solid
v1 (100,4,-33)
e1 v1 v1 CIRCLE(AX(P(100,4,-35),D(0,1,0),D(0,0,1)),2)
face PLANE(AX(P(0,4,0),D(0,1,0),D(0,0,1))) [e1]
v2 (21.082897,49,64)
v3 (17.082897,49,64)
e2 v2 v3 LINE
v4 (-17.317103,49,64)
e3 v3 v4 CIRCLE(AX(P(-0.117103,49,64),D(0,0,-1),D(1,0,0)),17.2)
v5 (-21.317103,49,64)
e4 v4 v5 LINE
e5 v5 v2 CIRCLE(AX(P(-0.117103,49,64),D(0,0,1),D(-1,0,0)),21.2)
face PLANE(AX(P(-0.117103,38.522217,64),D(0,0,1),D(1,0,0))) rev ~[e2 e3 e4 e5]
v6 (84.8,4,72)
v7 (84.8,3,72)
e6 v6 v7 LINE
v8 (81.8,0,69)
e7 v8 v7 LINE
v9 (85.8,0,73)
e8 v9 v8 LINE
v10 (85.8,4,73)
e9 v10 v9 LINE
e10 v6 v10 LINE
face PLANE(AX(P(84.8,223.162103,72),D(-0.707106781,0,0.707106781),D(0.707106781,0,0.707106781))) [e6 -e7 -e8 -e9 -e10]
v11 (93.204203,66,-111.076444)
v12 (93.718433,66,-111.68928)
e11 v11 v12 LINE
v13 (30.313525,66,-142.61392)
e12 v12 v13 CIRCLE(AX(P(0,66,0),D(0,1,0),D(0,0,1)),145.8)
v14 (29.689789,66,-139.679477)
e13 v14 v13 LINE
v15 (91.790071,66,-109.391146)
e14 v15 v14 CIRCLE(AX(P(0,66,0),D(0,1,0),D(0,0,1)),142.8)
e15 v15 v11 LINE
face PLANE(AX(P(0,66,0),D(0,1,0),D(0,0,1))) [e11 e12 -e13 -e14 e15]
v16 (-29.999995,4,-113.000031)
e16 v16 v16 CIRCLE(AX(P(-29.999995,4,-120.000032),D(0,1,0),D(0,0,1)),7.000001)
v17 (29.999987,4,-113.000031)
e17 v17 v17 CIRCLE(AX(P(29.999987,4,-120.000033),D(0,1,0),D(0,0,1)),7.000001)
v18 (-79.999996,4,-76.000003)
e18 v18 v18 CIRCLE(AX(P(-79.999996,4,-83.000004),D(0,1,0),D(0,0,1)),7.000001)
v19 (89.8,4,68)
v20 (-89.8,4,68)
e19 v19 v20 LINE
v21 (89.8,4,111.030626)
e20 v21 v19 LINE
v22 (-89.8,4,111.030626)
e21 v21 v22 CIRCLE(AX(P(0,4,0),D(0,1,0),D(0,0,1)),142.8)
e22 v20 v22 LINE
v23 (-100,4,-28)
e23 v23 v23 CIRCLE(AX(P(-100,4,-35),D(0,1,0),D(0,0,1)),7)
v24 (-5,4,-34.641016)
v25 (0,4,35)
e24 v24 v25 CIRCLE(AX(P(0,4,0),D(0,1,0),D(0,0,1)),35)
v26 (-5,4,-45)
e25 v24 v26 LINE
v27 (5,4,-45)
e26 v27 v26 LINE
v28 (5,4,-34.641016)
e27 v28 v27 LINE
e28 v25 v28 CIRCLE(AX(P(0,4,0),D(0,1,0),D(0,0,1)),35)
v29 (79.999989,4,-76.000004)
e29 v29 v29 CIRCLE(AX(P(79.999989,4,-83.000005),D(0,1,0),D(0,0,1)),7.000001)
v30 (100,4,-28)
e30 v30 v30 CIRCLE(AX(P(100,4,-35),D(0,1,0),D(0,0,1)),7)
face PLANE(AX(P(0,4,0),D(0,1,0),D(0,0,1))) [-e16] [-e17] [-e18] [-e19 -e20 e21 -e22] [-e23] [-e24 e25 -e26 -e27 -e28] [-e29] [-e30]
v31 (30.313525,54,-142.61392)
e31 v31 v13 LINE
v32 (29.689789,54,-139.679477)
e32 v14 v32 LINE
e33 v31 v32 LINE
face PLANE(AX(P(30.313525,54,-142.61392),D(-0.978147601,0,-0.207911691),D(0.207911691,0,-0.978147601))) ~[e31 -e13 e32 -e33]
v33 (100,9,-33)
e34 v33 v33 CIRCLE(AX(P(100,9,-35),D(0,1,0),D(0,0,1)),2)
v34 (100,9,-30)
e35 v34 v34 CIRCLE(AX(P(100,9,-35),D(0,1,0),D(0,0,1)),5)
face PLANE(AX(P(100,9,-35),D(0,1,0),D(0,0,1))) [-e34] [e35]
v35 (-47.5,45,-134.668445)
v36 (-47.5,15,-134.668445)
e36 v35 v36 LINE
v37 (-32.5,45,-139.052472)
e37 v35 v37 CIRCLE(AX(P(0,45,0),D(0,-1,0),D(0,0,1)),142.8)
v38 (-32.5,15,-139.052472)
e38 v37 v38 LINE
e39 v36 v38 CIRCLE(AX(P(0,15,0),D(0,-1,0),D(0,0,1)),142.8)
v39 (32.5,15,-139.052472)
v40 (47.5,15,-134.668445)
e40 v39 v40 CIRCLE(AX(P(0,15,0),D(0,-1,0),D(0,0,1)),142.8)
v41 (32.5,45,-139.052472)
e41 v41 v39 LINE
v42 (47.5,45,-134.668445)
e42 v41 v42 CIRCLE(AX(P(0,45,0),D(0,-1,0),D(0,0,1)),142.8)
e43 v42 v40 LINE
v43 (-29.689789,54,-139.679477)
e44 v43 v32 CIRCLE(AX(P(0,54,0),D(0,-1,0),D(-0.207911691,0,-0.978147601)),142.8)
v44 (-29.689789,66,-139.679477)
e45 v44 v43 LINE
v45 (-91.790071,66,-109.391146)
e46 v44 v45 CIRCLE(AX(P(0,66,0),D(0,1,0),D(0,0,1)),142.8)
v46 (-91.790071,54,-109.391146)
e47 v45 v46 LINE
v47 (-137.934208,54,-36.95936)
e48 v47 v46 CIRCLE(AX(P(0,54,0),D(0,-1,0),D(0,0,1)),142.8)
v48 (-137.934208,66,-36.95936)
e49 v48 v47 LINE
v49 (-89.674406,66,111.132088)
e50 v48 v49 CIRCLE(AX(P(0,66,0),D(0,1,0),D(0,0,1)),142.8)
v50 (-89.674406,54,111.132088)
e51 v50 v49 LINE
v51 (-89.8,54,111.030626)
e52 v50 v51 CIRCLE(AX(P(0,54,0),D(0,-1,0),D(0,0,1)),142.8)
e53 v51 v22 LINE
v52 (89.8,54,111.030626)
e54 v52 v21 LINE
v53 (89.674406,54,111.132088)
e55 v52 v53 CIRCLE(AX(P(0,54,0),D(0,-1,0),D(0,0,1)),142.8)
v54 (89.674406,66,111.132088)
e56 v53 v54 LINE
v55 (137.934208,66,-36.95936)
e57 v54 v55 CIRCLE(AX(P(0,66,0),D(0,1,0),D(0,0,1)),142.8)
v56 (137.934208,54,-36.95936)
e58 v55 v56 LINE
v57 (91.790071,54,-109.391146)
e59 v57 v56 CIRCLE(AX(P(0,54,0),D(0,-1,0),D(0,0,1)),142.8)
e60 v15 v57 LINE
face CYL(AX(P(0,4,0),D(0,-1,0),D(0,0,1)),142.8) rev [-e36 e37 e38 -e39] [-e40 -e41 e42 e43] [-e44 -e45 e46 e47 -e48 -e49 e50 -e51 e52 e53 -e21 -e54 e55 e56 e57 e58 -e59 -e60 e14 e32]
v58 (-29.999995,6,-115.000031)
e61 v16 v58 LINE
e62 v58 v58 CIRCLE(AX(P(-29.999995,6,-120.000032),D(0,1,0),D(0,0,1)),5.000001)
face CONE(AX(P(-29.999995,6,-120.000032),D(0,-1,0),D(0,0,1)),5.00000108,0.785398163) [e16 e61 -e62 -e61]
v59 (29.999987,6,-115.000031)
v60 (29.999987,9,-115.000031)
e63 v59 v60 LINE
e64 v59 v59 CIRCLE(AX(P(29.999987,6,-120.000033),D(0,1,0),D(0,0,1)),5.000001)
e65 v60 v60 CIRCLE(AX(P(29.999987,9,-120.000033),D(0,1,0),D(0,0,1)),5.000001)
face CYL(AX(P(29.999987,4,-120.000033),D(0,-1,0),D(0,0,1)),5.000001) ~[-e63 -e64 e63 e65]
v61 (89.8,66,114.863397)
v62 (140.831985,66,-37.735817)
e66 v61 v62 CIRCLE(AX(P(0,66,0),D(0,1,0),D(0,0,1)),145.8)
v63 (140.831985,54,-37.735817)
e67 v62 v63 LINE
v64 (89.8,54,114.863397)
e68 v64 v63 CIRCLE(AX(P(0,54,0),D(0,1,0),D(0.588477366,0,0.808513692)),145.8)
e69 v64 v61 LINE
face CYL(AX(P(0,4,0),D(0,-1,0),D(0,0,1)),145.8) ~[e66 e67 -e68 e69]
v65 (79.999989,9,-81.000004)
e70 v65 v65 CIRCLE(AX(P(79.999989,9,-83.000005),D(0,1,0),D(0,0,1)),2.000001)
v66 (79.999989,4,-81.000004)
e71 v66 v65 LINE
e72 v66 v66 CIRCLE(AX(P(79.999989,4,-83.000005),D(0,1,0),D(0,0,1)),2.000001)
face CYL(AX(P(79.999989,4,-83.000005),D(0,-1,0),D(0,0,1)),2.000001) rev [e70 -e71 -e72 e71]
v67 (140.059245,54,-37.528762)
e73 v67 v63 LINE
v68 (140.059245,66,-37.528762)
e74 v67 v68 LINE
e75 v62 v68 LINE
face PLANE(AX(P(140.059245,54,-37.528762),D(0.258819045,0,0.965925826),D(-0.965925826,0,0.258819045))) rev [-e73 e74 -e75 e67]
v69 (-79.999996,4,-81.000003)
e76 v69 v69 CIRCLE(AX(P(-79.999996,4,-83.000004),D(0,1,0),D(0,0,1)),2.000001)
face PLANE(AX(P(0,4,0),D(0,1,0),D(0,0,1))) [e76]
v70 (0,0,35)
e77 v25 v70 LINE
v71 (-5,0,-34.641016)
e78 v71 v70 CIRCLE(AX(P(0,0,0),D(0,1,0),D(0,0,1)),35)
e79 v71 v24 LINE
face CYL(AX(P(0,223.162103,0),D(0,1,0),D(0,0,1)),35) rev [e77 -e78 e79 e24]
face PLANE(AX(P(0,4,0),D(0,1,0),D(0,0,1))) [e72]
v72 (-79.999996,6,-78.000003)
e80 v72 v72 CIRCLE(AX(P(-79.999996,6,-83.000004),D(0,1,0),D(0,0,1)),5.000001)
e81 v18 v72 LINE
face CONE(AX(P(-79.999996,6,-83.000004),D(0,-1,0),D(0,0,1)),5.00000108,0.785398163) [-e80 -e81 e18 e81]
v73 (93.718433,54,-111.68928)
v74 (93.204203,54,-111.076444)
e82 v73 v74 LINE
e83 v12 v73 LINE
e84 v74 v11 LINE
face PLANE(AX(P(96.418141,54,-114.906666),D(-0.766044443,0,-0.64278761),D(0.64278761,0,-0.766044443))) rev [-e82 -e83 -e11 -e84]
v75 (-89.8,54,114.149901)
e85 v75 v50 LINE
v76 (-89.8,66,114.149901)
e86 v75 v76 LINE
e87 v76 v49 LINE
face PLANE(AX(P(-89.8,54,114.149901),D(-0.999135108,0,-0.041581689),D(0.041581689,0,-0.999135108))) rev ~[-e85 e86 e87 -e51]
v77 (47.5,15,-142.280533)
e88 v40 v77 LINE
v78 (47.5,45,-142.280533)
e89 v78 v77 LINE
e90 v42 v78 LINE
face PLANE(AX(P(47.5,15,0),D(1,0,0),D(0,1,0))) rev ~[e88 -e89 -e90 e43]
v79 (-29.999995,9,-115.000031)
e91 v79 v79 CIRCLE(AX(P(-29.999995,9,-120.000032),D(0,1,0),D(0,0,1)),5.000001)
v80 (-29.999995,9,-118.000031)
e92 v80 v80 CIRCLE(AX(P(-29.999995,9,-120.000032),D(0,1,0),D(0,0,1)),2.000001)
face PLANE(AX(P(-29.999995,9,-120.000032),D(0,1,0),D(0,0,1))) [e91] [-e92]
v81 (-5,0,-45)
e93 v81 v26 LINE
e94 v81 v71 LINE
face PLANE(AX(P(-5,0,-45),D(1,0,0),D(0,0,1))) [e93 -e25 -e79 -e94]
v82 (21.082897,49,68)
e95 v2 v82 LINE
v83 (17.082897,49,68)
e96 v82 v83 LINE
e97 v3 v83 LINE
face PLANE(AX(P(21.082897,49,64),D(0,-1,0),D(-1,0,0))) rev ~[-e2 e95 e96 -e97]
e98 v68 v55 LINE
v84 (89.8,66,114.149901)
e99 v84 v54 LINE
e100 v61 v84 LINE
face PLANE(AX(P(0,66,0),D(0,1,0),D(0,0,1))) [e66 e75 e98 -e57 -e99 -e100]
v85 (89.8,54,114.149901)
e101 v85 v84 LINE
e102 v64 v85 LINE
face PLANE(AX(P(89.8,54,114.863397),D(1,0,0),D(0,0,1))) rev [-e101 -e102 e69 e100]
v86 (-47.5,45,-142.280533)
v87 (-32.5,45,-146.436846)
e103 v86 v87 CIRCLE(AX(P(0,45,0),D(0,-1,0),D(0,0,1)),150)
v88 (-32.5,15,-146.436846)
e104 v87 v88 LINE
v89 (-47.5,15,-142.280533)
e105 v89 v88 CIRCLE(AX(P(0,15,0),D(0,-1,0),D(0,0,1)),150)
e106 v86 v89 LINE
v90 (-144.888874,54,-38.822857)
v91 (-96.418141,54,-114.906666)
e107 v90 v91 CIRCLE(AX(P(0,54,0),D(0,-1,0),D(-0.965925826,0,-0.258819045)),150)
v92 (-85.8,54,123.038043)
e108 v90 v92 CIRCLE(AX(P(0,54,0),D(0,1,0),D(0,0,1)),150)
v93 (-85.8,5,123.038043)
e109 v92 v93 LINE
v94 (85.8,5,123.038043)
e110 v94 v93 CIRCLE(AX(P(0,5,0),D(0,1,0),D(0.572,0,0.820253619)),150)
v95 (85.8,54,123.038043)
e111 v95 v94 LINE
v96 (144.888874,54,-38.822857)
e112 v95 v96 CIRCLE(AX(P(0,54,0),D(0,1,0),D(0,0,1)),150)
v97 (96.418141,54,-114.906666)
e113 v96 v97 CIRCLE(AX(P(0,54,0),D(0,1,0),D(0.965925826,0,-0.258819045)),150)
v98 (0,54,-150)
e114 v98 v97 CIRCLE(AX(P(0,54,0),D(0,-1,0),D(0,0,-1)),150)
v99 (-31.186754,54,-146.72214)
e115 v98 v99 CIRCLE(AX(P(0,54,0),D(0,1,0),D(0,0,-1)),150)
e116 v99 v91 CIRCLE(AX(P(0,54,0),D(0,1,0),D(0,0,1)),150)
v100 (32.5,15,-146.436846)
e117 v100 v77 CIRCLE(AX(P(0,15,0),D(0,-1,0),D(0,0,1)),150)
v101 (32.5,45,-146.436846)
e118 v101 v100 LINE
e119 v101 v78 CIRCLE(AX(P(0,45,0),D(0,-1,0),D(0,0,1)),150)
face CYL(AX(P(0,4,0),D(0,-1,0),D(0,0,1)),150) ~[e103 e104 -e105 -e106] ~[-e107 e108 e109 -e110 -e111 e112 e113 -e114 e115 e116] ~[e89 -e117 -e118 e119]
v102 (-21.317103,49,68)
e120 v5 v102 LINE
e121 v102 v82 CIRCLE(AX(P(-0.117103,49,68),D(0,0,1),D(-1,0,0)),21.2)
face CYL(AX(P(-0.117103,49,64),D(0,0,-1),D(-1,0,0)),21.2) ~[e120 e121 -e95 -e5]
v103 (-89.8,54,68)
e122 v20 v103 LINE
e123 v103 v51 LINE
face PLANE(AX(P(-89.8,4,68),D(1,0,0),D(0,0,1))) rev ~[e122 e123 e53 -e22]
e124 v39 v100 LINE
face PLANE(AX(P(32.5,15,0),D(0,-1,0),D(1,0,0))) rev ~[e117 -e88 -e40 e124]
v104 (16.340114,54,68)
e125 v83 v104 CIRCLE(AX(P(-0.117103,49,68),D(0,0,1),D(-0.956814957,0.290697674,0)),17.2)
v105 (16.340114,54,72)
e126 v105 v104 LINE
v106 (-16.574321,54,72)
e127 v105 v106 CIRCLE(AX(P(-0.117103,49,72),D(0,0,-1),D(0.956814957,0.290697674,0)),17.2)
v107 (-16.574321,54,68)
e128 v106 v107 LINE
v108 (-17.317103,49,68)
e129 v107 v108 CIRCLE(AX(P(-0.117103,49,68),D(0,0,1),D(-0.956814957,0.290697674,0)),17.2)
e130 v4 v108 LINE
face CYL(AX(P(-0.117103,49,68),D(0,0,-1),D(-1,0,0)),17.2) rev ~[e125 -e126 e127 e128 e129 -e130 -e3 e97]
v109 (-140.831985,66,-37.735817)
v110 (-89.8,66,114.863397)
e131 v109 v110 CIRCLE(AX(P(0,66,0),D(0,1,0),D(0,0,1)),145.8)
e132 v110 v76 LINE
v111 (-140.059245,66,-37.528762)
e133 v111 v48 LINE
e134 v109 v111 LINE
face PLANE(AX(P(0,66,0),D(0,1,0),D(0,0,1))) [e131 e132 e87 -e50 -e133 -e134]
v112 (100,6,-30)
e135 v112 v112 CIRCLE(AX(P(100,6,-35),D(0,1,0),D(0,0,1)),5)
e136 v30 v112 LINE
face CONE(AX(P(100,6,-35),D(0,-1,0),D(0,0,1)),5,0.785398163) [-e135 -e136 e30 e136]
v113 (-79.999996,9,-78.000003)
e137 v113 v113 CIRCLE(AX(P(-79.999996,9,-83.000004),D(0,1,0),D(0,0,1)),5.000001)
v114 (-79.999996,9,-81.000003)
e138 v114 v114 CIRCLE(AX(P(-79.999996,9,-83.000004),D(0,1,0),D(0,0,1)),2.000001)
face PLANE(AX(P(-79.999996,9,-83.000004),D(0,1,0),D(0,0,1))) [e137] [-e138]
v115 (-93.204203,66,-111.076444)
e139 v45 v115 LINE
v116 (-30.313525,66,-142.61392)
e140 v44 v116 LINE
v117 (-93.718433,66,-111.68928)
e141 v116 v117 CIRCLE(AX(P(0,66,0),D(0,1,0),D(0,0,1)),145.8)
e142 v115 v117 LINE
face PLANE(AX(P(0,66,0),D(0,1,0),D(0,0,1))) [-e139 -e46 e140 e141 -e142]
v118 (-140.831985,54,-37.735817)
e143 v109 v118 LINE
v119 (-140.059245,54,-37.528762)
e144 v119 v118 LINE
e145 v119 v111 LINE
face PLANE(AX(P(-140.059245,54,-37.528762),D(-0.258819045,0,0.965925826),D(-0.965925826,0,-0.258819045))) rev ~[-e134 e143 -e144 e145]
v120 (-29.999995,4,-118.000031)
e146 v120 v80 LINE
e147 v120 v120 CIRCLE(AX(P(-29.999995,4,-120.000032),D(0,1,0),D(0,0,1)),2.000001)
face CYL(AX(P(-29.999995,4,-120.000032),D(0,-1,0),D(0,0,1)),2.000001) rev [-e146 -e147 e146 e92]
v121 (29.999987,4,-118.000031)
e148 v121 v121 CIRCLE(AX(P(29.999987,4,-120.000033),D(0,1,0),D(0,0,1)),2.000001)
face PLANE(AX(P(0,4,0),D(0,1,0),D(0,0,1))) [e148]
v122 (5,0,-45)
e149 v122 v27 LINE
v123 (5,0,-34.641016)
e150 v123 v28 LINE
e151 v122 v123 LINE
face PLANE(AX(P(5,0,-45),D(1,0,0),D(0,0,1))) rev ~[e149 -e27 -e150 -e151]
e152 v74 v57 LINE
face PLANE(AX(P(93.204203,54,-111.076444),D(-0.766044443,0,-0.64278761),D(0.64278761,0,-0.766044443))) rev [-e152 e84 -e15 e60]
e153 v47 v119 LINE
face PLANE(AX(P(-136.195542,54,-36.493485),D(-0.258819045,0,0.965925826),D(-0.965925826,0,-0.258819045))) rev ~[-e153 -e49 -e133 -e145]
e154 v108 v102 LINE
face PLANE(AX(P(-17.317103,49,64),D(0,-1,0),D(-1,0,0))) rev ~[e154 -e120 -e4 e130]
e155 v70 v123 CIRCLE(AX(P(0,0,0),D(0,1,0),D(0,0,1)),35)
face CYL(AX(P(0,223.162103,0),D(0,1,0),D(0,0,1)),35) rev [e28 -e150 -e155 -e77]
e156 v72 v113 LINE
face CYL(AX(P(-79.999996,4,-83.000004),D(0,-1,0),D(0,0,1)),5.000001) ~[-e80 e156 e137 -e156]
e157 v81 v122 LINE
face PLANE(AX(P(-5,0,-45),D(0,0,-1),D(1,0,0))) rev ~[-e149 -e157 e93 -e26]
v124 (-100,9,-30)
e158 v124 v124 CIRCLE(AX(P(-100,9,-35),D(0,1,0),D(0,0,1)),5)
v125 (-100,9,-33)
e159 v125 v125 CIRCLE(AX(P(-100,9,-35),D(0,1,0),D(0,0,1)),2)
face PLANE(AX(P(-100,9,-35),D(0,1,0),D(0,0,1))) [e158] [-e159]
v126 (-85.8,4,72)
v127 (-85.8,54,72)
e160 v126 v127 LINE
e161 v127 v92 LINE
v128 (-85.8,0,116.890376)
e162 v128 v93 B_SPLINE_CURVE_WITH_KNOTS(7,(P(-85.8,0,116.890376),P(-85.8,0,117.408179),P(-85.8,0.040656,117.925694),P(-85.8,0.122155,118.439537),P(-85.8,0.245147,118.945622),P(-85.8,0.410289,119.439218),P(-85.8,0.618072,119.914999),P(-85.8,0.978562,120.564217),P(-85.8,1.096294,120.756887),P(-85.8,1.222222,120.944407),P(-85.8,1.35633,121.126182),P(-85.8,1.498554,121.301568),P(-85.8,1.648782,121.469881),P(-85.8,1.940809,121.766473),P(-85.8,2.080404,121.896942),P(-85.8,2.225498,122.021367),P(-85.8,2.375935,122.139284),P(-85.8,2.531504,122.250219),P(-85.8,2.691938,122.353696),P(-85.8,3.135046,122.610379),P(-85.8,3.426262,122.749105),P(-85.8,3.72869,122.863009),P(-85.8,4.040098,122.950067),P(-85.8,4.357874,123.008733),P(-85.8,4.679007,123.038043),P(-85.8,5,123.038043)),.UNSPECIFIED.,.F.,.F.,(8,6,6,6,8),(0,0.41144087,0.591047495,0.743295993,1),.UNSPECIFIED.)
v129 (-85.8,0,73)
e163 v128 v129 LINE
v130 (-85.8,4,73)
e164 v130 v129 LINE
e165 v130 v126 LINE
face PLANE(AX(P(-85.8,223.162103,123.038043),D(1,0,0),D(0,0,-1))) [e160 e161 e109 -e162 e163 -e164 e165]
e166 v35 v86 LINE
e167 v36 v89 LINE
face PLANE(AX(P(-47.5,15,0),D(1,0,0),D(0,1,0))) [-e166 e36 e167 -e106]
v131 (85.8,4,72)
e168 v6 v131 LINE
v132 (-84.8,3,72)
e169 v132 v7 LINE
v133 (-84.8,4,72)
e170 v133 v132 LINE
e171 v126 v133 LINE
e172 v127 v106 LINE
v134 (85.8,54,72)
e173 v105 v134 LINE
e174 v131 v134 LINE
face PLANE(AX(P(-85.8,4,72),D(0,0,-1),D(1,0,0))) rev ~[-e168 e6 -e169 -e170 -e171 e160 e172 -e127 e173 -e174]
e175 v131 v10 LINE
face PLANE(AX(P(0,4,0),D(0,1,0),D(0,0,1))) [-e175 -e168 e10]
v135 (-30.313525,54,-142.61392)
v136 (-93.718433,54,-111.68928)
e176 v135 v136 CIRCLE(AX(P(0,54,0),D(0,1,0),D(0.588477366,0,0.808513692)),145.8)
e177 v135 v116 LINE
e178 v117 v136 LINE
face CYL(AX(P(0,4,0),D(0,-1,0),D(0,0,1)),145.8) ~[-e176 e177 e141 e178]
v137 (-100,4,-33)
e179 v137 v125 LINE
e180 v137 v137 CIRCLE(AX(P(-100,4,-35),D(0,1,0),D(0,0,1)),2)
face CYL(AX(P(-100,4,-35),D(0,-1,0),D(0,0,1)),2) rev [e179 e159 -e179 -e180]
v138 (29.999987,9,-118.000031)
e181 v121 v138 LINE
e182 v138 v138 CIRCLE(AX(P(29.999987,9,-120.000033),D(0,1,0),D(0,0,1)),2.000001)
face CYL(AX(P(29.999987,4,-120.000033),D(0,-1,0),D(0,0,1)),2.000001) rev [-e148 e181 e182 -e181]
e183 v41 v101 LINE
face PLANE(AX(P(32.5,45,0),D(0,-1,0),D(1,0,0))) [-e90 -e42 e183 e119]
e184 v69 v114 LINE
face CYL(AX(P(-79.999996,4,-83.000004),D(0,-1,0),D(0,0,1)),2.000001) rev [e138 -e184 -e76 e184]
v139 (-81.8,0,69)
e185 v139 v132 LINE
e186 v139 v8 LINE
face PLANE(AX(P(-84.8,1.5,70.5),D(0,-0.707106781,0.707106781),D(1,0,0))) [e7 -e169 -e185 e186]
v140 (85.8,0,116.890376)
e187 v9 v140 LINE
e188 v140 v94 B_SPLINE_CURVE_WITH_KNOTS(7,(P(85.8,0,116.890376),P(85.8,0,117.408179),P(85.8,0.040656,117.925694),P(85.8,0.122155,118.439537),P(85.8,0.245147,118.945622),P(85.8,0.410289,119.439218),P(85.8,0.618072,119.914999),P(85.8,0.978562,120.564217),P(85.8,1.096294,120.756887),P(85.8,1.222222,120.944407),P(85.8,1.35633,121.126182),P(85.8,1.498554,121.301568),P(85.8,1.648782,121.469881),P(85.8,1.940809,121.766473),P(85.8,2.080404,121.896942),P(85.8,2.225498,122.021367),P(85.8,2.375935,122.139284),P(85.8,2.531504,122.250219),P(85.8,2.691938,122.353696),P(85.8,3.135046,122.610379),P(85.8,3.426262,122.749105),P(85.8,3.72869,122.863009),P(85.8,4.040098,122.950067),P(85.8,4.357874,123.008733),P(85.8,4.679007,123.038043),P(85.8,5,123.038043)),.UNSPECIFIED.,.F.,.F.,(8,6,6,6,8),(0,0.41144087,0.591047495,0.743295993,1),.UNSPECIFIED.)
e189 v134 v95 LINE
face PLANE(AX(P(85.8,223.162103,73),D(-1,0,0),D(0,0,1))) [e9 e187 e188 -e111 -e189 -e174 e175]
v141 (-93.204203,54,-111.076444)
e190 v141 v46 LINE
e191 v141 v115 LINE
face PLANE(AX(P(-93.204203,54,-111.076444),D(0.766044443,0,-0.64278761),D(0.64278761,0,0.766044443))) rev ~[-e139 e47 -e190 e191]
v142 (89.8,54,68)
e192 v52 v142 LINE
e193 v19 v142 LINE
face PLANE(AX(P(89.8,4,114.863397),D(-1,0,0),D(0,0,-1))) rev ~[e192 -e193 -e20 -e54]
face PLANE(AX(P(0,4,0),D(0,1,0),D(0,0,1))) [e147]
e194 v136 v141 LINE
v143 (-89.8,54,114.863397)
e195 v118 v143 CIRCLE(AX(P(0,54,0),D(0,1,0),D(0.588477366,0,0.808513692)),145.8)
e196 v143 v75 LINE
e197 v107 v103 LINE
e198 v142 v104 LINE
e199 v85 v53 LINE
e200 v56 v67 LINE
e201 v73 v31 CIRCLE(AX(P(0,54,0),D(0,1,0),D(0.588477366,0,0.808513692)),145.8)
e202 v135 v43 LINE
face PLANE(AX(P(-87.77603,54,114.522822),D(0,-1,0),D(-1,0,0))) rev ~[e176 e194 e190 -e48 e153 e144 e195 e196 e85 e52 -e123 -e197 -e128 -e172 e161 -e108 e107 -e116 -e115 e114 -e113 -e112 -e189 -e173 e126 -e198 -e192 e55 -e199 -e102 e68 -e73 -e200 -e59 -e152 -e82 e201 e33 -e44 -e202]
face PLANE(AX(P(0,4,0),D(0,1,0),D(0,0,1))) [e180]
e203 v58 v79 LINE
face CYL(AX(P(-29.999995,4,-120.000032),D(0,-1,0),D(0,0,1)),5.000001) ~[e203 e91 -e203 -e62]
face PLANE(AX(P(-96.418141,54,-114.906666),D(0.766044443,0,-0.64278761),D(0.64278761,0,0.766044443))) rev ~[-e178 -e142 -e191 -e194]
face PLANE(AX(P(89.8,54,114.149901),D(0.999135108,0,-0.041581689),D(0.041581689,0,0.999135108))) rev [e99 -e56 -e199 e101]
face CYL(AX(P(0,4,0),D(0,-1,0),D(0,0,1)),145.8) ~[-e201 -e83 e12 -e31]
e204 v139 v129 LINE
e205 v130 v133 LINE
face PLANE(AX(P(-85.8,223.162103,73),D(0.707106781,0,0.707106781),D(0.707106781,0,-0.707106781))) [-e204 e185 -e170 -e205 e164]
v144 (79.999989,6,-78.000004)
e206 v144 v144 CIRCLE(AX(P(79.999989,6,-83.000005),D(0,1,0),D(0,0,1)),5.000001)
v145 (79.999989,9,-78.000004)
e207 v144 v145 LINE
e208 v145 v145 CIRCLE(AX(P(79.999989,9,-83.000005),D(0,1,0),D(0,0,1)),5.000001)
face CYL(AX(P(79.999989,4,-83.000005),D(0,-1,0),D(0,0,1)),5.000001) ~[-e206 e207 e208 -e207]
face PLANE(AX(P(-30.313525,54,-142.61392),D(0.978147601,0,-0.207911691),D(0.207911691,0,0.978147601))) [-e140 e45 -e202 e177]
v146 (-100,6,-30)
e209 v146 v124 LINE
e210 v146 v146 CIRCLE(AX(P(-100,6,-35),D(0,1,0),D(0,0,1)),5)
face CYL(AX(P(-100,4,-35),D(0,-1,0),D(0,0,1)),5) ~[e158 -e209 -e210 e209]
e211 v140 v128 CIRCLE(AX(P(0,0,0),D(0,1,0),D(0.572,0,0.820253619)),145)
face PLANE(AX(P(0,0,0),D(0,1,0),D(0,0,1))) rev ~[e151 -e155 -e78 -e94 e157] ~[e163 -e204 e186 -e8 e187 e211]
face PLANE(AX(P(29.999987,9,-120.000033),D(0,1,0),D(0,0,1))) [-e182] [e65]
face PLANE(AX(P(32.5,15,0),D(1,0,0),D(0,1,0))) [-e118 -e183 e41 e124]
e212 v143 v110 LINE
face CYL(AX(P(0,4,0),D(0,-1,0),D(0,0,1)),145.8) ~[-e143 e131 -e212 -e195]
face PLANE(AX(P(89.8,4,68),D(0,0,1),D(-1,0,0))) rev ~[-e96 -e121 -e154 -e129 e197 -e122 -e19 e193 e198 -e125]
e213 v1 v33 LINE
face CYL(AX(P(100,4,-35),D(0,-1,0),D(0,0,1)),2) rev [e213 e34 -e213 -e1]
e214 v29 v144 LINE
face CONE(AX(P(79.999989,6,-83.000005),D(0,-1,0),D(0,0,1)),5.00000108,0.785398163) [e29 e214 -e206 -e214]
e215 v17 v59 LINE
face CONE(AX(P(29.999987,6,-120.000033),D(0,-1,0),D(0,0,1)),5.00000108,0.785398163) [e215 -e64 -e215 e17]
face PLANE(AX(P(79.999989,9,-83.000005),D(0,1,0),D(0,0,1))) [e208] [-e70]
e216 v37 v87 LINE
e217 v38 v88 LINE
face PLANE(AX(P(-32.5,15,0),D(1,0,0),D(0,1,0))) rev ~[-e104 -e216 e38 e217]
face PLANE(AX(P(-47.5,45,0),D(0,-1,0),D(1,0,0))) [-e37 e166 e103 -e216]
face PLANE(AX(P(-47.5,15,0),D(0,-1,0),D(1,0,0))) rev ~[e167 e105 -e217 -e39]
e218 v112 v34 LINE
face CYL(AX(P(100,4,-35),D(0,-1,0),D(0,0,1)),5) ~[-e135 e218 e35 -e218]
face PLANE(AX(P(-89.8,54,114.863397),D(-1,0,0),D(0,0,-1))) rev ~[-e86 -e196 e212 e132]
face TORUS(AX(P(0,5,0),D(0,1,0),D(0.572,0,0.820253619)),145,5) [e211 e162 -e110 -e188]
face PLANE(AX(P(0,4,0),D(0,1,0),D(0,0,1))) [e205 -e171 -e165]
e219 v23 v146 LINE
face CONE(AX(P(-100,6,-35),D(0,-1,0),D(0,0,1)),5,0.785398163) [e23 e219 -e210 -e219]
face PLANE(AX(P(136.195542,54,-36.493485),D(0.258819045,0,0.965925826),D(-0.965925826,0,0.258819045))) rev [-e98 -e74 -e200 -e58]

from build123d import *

# Parameters (mm, degrees)
SKETCH_1_R               = 150
EXTRUDE_1_DEPTH          = 4
SKETCH_2_R               = 150
SKETCH_2_R_2             = 145.8
EXTRUDE_2_DEPTH          = 50
SKETCH_3_R               = 145.8
SKETCH_3_R_2             = 142.8
EXTRUDE_3_DEPTH          = 62
CUT_EXTRUDE_1_DEPTH      = 223.162102979
CUT_EXTRUDE_1_DEPTH_BACK = 223.162102979
EXTRUDE_4_DEPTH          = 50
CUT_EXTRUDE_START        = -12
CUT_EXTRUDE_2_DEPTH      = 12
FILLET_1_R               = 5
CUT_EXTRUDE_3_DEPTH      = 223.162103114
CUT_EXTRUDE_3_DEPTH_BACK = 223.162103114
SKETCH_7_R               = 35
CUT_EXTRUDE_4_DEPTH      = 25
SKETCH_9_W               = 10
SKETCH_9_H               = 20
CUT_EXTRUDE_5_DEPTH      = 25
SKETCH_10_R              = 17.2
CUT_EXTRUDE_6_DEPTH      = 25
EXTRUDE_START            = 4
EXTRUDE_5_DEPTH          = 4
SKETCH_12_R              = 5
SKETCH_12_R_2            = 2
SKETCH_12_R_3            = 5.00000108
SKETCH_12_R_4            = 2.00000108
EXTRUDE_6_DEPTH          = 5
CHAMFER_1_SIZE           = 2
CHAMFER_2_SIZE           = 3
SKETCH_13_W              = 15
SKETCH_13_H              = 30
CUT_EXTRUDE_7_DEPTH      = 223.162103114


with BuildPart() as part:
    # 스케치1 → 보스-돌출1 (new body)
    with BuildSketch(Plane(origin=(0, 0, 0), x_dir=(1, 0, 0), z_dir=(0, 1, 0))):
        with Locations(Location((0, 0, 0), (0, 0, 270))):
            Circle(SKETCH_1_R)
    extrude(amount=EXTRUDE_1_DEPTH)

    # 스케치2 → 보스-돌출2 (add)
    with BuildSketch(Plane(origin=(0, 4, 0), x_dir=(1, 0, 0), z_dir=(0, 1, 0))):
        with Locations(Location((0, 0, 0), (0, 0, 270))):
            Circle(SKETCH_2_R)
        with Locations(Location((0, 0, 0), (0, 0, 270))):
            Circle(SKETCH_2_R_2, mode=Mode.SUBTRACT)
    extrude(amount=EXTRUDE_2_DEPTH)

    # 스케치3 → 보스-돌출3 (add)
    with BuildSketch(Plane(origin=(0, 4, 0), x_dir=(1, 0, 0), z_dir=(0, 1, 0))):
        with Locations(Location((0, 0, 0), (0, 0, 270))):
            Circle(SKETCH_3_R)
        with Locations(Location((0, 0, 0), (0, 0, 270))):
            Circle(SKETCH_3_R_2, mode=Mode.SUBTRACT)
    extrude(amount=EXTRUDE_3_DEPTH)

    # 스케치4 → 컷-돌출1 (cut, two sides: drawn at the far end of the back side and taken through both)
    with BuildSketch(Plane.XZ.offset(-CUT_EXTRUDE_1_DEPTH_BACK)):
        with BuildLine():
            Line((85.8, 73), (85.8, 123.038042897))
            ThreePointArc((85.8, 123.038042897), (0, 150), (-85.8, 123.038042897))
            Line((-85.8, 123.038042897), (-85.8, 73))
            Line((-85.8, 73), (-84.8, 72))
            Line((-84.8, 72), (84.8, 72))
            Line((84.8, 72), (85.8, 73))
        make_face()
    extrude(amount=CUT_EXTRUDE_1_DEPTH + CUT_EXTRUDE_1_DEPTH_BACK, mode=Mode.SUBTRACT)

    # 스케치5 → 보스-돌출4 (add)
    with BuildSketch(Plane(origin=(0, 4, 0), x_dir=(1, 0, 0), z_dir=(0, 1, 0))):
        with BuildLine():
            Line((-86.456854249, -68), (-89.8, -71.343145751))
            Line((-89.8, -71.343145751), (-89.8, -114.149901445))
            Line((-89.8, -114.149901445), (-89.8, -114.863397129))
            ThreePointArc((-89.8, -114.863397129), (-87.812965607, -116.389531622), (-85.8, -117.881296226))
            Line((-85.8, -117.881296226), (-85.8, -72))
            Line((-85.8, -72), (85.8, -72))
            Line((85.8, -72), (85.8, -117.881296226))
            ThreePointArc((85.8, -117.881296226), (87.812965607, -116.389531622), (89.8, -114.863397129))
            Line((89.8, -114.863397129), (89.8, -114.149901445))
            Line((89.8, -114.149901445), (89.8, -71.343145751))
            Line((89.8, -71.343145751), (86.45685425, -68))
            Line((86.45685425, -68), (84.8, -68))
            Line((84.8, -68), (-84.8, -68))
            Line((-84.8, -68), (-86.456854249, -68))
        make_face()
        Polygon((-89.8, -68), (-89.8, -71.343145751), (-86.456854249, -68), align=None)
        Polygon((89.8, -68), (86.45685425, -68), (89.8, -71.343145751), align=None)
    extrude(amount=EXTRUDE_4_DEPTH)

    # 스케치6 → 컷-돌출2 (cut)
    with BuildSketch(Plane(origin=(0, 66, 0), x_dir=(1, 0, 0), z_dir=(0, 1, 0)).offset(CUT_EXTRUDE_START)):
        with BuildLine():
            Line((-89.8, -114.149901445), (-89.674405594, -111.132087991))
            ThreePointArc((-89.674405594, -111.132087991), (-87.750176947, -112.657651519), (-85.8, -114.149901445))
            Line((-85.8, -114.149901445), (-85.8, -117.881296226))
            ThreePointArc((-85.8, -117.881296226), (-87.812965607, -116.389531622), (-89.8, -114.863397129))
            Line((-89.8, -114.863397129), (-89.8, -114.149901445))
        make_face()
    cut_extrude_2 = extrude(amount=CUT_EXTRUDE_2_DEPTH, mode=Mode.SUBTRACT)

    # 대칭 복사1: 컷-돌출2 across plane
    add(cut_extrude_2.mirror(Plane(origin=(0, 0, 0), x_dir=(0, 0, 1), z_dir=(1, 0, 0))), mode=Mode.SUBTRACT)

    # 필렛1
    fillet_1_edges = [part.edges().sort_by_distance(p)[0] for p in [
        (0, 0, -150),
    ]]
    fillet(fillet_1_edges, radius=FILLET_1_R)

    # 스케치7 → 컷-돌출3 (cut, two sides: drawn at the far end of the back side and taken through both)
    with BuildSketch(Plane.XZ.offset(-CUT_EXTRUDE_3_DEPTH_BACK)):
        with Locations(Location((0, 0, 0), (0, 0, 90))):
            Circle(SKETCH_7_R)
    extrude(amount=CUT_EXTRUDE_3_DEPTH + CUT_EXTRUDE_3_DEPTH_BACK, mode=Mode.SUBTRACT)

    # 스케치8 → 컷-돌출4 (cut)
    with BuildSketch(Plane(origin=(0, 54, 0), x_dir=(1, 0, 0), z_dir=(0, 1, 0))):
        with BuildLine():
            ThreePointArc((0, 150), (-15.67926949, 149.178284305), (-31.186753623, 146.72214011))
            Line((-31.186753623, 146.72214011), (-30.313524521, 142.613920187))
            ThreePointArc((-30.313524521, 142.613920187), (-15.240249944, 145.001292345), (0, 145.8))
            Line((0, 145.8), (0, 150))
        make_face()
        with BuildLine():
            ThreePointArc((0, 145.8), (-15.240249944, 145.001292345), (-30.313524521, 142.613920187))
            Line((-30.313524521, 142.613920187), (-29.523460096, 138.896959304))
            ThreePointArc((-29.523460096, 138.896959304), (-14.843041784, 141.222109142), (0, 142))
            Line((0, 142), (0, 145.8))
        make_face()
        with BuildLine():
            ThreePointArc((-90.633052966, 108.01226648), (-118.91819386, 75.759244777), (-136.195541507, 36.493485359))
            Line((-136.195541507, 36.493485359), (-140.059244812, 37.52876154))
            Line((-140.059244812, 37.52876154), (-144.888873943, 38.822856765))
            ThreePointArc((-144.888873943, 38.822856765), (-126.508716872, 80.594941252), (-96.418141453, 114.906666468))
            Line((-96.418141453, 114.906666468), (-93.204203405, 111.076444252))
            Line((-93.204203405, 111.076444252), (-90.633052966, 108.01226648))
        make_face()
    cut_extrude_4 = extrude(amount=CUT_EXTRUDE_4_DEPTH, mode=Mode.SUBTRACT)

    # 대칭 복사2: 컷-돌출4 across plane
    add(cut_extrude_4.mirror(Plane(origin=(0, 0, 0), x_dir=(0, 0, 1), z_dir=(1, 0, 0))), mode=Mode.SUBTRACT)

    # 스케치9 → 컷-돌출5 (cut)
    with BuildSketch(Plane.XZ):
        with Locations((0, -35)):
            Rectangle(SKETCH_9_W, SKETCH_9_H)
    extrude(amount=-CUT_EXTRUDE_5_DEPTH, mode=Mode.SUBTRACT)

    # 스케치10 → 컷-돌출6 (cut)
    with BuildSketch(Plane(origin=(0, 0, 68), x_dir=(-1, 0, 0), z_dir=(0, 0, -1))):
        with Locations((0.117103381, 49)):
            Circle(SKETCH_10_R)
    extrude(amount=-CUT_EXTRUDE_6_DEPTH, mode=Mode.SUBTRACT)

    # 스케치11 → 보스-돌출5 (add)
    with BuildSketch(Plane(origin=(0, 0, 68), x_dir=(-1, 0, 0), z_dir=(0, 0, -1)).offset(EXTRUDE_START)):
        with BuildLine():
            Line((17.317103381, 49), (21.317103381, 49))
            ThreePointArc((21.317103381, 49), (0.117103381, 27.8), (-21.082896619, 49))
            Line((-21.082896619, 49), (-17.082896619, 49))
            ThreePointArc((-17.082896619, 49), (0.117103381, 31.8), (17.317103381, 49))
        make_face()
    extrude(amount=-EXTRUDE_5_DEPTH)

    # 스케치12 → 보스-돌출6 (add)
    # profile 1 of 6: a face of its own
    with BuildSketch(Plane(origin=(0, 4, 0), x_dir=(1, 0, 0), z_dir=(0, 1, 0))):
        with Locations(Location((100, 35, 0), (0, 0, 270))):
            Circle(SKETCH_12_R)
        with Locations(Location((100, 35, 0), (0, 0, 270))):
            Circle(SKETCH_12_R_2, mode=Mode.SUBTRACT)
    # profile 2 of 6: a face of its own
    with BuildSketch(Plane(origin=(0, 4, 0), x_dir=(1, 0, 0), z_dir=(0, 1, 0))):
        with Locations(Location((-100, 35, 0), (0, 0, 270))):
            Circle(SKETCH_12_R)
        with Locations(Location((-100, 35, 0), (0, 0, 270))):
            Circle(SKETCH_12_R_2, mode=Mode.SUBTRACT)
    # profile 3 of 6: a face of its own
    with BuildSketch(Plane(origin=(0, 4, 0), x_dir=(1, 0, 0), z_dir=(0, 1, 0))):
        with Locations(Location((-79.999996057, 83.000003885, 0), (0, 0, 270))):
            Circle(SKETCH_12_R_3)
        with Locations(Location((-79.999996057, 83.000003885, 0), (0, 0, 270))):
            Circle(SKETCH_12_R_4, mode=Mode.SUBTRACT)
    # profile 4 of 6: a face of its own
    with BuildSketch(Plane(origin=(0, 4, 0), x_dir=(1, 0, 0), z_dir=(0, 1, 0))):
        with Locations(Location((-29.99999481, 120.000031962, 0), (0, 0, 270))):
            Circle(SKETCH_12_R_3)
        with Locations(Location((-29.99999481, 120.000031962, 0), (0, 0, 270))):
            Circle(SKETCH_12_R_4, mode=Mode.SUBTRACT)
    # profile 5 of 6: a face of its own
    with BuildSketch(Plane(origin=(0, 4, 0), x_dir=(1, 0, 0), z_dir=(0, 1, 0))):
        with Locations(Location((29.99998679, 120.000032533, 0), (0, 0, 270))):
            Circle(SKETCH_12_R_3)
        with Locations(Location((29.99998679, 120.000032533, 0), (0, 0, 270))):
            Circle(SKETCH_12_R_4, mode=Mode.SUBTRACT)
    # profile 6 of 6: a face of its own
    with BuildSketch(Plane(origin=(0, 4, 0), x_dir=(1, 0, 0), z_dir=(0, 1, 0))):
        with Locations(Location((79.999988743, 83.000005409, 0), (0, 0, 270))):
            Circle(SKETCH_12_R_3)
        with Locations(Location((79.999988743, 83.000005409, 0), (0, 0, 270))):
            Circle(SKETCH_12_R_4, mode=Mode.SUBTRACT)
    extrude(amount=EXTRUDE_6_DEPTH)

    # 모따기1
    chamfer_1_edges = [part.edges().sort_by_distance(p)[0] for p in [
        (100, 4, -40),
        (-79.999996057, 4, -88.000004965),
        (-100, 4, -40),
        (-29.99999481, 4, -125.000033042),
        (29.99998679, 4, -125.000033613),
        (79.999988743, 4, -88.000006489),
    ]]
    chamfer(chamfer_1_edges, length=CHAMFER_1_SIZE)

    # 모따기2
    chamfer_2_edges = [part.edges().sort_by_distance(p)[0] for p in [
        (0, 0, 72),
    ]]
    chamfer(chamfer_2_edges, length=CHAMFER_2_SIZE)

    # 스케치13 → 컷-돌출7 (cut, through all)
    with BuildSketch(Plane.XY):
        with Locations((-40, 30)):
            Rectangle(SKETCH_13_W, SKETCH_13_H)
        with Locations((40, 30)):
            Rectangle(SKETCH_13_W, SKETCH_13_H)
    extrude(amount=-CUT_EXTRUDE_7_DEPTH, mode=Mode.SUBTRACT)


solid = part.part
